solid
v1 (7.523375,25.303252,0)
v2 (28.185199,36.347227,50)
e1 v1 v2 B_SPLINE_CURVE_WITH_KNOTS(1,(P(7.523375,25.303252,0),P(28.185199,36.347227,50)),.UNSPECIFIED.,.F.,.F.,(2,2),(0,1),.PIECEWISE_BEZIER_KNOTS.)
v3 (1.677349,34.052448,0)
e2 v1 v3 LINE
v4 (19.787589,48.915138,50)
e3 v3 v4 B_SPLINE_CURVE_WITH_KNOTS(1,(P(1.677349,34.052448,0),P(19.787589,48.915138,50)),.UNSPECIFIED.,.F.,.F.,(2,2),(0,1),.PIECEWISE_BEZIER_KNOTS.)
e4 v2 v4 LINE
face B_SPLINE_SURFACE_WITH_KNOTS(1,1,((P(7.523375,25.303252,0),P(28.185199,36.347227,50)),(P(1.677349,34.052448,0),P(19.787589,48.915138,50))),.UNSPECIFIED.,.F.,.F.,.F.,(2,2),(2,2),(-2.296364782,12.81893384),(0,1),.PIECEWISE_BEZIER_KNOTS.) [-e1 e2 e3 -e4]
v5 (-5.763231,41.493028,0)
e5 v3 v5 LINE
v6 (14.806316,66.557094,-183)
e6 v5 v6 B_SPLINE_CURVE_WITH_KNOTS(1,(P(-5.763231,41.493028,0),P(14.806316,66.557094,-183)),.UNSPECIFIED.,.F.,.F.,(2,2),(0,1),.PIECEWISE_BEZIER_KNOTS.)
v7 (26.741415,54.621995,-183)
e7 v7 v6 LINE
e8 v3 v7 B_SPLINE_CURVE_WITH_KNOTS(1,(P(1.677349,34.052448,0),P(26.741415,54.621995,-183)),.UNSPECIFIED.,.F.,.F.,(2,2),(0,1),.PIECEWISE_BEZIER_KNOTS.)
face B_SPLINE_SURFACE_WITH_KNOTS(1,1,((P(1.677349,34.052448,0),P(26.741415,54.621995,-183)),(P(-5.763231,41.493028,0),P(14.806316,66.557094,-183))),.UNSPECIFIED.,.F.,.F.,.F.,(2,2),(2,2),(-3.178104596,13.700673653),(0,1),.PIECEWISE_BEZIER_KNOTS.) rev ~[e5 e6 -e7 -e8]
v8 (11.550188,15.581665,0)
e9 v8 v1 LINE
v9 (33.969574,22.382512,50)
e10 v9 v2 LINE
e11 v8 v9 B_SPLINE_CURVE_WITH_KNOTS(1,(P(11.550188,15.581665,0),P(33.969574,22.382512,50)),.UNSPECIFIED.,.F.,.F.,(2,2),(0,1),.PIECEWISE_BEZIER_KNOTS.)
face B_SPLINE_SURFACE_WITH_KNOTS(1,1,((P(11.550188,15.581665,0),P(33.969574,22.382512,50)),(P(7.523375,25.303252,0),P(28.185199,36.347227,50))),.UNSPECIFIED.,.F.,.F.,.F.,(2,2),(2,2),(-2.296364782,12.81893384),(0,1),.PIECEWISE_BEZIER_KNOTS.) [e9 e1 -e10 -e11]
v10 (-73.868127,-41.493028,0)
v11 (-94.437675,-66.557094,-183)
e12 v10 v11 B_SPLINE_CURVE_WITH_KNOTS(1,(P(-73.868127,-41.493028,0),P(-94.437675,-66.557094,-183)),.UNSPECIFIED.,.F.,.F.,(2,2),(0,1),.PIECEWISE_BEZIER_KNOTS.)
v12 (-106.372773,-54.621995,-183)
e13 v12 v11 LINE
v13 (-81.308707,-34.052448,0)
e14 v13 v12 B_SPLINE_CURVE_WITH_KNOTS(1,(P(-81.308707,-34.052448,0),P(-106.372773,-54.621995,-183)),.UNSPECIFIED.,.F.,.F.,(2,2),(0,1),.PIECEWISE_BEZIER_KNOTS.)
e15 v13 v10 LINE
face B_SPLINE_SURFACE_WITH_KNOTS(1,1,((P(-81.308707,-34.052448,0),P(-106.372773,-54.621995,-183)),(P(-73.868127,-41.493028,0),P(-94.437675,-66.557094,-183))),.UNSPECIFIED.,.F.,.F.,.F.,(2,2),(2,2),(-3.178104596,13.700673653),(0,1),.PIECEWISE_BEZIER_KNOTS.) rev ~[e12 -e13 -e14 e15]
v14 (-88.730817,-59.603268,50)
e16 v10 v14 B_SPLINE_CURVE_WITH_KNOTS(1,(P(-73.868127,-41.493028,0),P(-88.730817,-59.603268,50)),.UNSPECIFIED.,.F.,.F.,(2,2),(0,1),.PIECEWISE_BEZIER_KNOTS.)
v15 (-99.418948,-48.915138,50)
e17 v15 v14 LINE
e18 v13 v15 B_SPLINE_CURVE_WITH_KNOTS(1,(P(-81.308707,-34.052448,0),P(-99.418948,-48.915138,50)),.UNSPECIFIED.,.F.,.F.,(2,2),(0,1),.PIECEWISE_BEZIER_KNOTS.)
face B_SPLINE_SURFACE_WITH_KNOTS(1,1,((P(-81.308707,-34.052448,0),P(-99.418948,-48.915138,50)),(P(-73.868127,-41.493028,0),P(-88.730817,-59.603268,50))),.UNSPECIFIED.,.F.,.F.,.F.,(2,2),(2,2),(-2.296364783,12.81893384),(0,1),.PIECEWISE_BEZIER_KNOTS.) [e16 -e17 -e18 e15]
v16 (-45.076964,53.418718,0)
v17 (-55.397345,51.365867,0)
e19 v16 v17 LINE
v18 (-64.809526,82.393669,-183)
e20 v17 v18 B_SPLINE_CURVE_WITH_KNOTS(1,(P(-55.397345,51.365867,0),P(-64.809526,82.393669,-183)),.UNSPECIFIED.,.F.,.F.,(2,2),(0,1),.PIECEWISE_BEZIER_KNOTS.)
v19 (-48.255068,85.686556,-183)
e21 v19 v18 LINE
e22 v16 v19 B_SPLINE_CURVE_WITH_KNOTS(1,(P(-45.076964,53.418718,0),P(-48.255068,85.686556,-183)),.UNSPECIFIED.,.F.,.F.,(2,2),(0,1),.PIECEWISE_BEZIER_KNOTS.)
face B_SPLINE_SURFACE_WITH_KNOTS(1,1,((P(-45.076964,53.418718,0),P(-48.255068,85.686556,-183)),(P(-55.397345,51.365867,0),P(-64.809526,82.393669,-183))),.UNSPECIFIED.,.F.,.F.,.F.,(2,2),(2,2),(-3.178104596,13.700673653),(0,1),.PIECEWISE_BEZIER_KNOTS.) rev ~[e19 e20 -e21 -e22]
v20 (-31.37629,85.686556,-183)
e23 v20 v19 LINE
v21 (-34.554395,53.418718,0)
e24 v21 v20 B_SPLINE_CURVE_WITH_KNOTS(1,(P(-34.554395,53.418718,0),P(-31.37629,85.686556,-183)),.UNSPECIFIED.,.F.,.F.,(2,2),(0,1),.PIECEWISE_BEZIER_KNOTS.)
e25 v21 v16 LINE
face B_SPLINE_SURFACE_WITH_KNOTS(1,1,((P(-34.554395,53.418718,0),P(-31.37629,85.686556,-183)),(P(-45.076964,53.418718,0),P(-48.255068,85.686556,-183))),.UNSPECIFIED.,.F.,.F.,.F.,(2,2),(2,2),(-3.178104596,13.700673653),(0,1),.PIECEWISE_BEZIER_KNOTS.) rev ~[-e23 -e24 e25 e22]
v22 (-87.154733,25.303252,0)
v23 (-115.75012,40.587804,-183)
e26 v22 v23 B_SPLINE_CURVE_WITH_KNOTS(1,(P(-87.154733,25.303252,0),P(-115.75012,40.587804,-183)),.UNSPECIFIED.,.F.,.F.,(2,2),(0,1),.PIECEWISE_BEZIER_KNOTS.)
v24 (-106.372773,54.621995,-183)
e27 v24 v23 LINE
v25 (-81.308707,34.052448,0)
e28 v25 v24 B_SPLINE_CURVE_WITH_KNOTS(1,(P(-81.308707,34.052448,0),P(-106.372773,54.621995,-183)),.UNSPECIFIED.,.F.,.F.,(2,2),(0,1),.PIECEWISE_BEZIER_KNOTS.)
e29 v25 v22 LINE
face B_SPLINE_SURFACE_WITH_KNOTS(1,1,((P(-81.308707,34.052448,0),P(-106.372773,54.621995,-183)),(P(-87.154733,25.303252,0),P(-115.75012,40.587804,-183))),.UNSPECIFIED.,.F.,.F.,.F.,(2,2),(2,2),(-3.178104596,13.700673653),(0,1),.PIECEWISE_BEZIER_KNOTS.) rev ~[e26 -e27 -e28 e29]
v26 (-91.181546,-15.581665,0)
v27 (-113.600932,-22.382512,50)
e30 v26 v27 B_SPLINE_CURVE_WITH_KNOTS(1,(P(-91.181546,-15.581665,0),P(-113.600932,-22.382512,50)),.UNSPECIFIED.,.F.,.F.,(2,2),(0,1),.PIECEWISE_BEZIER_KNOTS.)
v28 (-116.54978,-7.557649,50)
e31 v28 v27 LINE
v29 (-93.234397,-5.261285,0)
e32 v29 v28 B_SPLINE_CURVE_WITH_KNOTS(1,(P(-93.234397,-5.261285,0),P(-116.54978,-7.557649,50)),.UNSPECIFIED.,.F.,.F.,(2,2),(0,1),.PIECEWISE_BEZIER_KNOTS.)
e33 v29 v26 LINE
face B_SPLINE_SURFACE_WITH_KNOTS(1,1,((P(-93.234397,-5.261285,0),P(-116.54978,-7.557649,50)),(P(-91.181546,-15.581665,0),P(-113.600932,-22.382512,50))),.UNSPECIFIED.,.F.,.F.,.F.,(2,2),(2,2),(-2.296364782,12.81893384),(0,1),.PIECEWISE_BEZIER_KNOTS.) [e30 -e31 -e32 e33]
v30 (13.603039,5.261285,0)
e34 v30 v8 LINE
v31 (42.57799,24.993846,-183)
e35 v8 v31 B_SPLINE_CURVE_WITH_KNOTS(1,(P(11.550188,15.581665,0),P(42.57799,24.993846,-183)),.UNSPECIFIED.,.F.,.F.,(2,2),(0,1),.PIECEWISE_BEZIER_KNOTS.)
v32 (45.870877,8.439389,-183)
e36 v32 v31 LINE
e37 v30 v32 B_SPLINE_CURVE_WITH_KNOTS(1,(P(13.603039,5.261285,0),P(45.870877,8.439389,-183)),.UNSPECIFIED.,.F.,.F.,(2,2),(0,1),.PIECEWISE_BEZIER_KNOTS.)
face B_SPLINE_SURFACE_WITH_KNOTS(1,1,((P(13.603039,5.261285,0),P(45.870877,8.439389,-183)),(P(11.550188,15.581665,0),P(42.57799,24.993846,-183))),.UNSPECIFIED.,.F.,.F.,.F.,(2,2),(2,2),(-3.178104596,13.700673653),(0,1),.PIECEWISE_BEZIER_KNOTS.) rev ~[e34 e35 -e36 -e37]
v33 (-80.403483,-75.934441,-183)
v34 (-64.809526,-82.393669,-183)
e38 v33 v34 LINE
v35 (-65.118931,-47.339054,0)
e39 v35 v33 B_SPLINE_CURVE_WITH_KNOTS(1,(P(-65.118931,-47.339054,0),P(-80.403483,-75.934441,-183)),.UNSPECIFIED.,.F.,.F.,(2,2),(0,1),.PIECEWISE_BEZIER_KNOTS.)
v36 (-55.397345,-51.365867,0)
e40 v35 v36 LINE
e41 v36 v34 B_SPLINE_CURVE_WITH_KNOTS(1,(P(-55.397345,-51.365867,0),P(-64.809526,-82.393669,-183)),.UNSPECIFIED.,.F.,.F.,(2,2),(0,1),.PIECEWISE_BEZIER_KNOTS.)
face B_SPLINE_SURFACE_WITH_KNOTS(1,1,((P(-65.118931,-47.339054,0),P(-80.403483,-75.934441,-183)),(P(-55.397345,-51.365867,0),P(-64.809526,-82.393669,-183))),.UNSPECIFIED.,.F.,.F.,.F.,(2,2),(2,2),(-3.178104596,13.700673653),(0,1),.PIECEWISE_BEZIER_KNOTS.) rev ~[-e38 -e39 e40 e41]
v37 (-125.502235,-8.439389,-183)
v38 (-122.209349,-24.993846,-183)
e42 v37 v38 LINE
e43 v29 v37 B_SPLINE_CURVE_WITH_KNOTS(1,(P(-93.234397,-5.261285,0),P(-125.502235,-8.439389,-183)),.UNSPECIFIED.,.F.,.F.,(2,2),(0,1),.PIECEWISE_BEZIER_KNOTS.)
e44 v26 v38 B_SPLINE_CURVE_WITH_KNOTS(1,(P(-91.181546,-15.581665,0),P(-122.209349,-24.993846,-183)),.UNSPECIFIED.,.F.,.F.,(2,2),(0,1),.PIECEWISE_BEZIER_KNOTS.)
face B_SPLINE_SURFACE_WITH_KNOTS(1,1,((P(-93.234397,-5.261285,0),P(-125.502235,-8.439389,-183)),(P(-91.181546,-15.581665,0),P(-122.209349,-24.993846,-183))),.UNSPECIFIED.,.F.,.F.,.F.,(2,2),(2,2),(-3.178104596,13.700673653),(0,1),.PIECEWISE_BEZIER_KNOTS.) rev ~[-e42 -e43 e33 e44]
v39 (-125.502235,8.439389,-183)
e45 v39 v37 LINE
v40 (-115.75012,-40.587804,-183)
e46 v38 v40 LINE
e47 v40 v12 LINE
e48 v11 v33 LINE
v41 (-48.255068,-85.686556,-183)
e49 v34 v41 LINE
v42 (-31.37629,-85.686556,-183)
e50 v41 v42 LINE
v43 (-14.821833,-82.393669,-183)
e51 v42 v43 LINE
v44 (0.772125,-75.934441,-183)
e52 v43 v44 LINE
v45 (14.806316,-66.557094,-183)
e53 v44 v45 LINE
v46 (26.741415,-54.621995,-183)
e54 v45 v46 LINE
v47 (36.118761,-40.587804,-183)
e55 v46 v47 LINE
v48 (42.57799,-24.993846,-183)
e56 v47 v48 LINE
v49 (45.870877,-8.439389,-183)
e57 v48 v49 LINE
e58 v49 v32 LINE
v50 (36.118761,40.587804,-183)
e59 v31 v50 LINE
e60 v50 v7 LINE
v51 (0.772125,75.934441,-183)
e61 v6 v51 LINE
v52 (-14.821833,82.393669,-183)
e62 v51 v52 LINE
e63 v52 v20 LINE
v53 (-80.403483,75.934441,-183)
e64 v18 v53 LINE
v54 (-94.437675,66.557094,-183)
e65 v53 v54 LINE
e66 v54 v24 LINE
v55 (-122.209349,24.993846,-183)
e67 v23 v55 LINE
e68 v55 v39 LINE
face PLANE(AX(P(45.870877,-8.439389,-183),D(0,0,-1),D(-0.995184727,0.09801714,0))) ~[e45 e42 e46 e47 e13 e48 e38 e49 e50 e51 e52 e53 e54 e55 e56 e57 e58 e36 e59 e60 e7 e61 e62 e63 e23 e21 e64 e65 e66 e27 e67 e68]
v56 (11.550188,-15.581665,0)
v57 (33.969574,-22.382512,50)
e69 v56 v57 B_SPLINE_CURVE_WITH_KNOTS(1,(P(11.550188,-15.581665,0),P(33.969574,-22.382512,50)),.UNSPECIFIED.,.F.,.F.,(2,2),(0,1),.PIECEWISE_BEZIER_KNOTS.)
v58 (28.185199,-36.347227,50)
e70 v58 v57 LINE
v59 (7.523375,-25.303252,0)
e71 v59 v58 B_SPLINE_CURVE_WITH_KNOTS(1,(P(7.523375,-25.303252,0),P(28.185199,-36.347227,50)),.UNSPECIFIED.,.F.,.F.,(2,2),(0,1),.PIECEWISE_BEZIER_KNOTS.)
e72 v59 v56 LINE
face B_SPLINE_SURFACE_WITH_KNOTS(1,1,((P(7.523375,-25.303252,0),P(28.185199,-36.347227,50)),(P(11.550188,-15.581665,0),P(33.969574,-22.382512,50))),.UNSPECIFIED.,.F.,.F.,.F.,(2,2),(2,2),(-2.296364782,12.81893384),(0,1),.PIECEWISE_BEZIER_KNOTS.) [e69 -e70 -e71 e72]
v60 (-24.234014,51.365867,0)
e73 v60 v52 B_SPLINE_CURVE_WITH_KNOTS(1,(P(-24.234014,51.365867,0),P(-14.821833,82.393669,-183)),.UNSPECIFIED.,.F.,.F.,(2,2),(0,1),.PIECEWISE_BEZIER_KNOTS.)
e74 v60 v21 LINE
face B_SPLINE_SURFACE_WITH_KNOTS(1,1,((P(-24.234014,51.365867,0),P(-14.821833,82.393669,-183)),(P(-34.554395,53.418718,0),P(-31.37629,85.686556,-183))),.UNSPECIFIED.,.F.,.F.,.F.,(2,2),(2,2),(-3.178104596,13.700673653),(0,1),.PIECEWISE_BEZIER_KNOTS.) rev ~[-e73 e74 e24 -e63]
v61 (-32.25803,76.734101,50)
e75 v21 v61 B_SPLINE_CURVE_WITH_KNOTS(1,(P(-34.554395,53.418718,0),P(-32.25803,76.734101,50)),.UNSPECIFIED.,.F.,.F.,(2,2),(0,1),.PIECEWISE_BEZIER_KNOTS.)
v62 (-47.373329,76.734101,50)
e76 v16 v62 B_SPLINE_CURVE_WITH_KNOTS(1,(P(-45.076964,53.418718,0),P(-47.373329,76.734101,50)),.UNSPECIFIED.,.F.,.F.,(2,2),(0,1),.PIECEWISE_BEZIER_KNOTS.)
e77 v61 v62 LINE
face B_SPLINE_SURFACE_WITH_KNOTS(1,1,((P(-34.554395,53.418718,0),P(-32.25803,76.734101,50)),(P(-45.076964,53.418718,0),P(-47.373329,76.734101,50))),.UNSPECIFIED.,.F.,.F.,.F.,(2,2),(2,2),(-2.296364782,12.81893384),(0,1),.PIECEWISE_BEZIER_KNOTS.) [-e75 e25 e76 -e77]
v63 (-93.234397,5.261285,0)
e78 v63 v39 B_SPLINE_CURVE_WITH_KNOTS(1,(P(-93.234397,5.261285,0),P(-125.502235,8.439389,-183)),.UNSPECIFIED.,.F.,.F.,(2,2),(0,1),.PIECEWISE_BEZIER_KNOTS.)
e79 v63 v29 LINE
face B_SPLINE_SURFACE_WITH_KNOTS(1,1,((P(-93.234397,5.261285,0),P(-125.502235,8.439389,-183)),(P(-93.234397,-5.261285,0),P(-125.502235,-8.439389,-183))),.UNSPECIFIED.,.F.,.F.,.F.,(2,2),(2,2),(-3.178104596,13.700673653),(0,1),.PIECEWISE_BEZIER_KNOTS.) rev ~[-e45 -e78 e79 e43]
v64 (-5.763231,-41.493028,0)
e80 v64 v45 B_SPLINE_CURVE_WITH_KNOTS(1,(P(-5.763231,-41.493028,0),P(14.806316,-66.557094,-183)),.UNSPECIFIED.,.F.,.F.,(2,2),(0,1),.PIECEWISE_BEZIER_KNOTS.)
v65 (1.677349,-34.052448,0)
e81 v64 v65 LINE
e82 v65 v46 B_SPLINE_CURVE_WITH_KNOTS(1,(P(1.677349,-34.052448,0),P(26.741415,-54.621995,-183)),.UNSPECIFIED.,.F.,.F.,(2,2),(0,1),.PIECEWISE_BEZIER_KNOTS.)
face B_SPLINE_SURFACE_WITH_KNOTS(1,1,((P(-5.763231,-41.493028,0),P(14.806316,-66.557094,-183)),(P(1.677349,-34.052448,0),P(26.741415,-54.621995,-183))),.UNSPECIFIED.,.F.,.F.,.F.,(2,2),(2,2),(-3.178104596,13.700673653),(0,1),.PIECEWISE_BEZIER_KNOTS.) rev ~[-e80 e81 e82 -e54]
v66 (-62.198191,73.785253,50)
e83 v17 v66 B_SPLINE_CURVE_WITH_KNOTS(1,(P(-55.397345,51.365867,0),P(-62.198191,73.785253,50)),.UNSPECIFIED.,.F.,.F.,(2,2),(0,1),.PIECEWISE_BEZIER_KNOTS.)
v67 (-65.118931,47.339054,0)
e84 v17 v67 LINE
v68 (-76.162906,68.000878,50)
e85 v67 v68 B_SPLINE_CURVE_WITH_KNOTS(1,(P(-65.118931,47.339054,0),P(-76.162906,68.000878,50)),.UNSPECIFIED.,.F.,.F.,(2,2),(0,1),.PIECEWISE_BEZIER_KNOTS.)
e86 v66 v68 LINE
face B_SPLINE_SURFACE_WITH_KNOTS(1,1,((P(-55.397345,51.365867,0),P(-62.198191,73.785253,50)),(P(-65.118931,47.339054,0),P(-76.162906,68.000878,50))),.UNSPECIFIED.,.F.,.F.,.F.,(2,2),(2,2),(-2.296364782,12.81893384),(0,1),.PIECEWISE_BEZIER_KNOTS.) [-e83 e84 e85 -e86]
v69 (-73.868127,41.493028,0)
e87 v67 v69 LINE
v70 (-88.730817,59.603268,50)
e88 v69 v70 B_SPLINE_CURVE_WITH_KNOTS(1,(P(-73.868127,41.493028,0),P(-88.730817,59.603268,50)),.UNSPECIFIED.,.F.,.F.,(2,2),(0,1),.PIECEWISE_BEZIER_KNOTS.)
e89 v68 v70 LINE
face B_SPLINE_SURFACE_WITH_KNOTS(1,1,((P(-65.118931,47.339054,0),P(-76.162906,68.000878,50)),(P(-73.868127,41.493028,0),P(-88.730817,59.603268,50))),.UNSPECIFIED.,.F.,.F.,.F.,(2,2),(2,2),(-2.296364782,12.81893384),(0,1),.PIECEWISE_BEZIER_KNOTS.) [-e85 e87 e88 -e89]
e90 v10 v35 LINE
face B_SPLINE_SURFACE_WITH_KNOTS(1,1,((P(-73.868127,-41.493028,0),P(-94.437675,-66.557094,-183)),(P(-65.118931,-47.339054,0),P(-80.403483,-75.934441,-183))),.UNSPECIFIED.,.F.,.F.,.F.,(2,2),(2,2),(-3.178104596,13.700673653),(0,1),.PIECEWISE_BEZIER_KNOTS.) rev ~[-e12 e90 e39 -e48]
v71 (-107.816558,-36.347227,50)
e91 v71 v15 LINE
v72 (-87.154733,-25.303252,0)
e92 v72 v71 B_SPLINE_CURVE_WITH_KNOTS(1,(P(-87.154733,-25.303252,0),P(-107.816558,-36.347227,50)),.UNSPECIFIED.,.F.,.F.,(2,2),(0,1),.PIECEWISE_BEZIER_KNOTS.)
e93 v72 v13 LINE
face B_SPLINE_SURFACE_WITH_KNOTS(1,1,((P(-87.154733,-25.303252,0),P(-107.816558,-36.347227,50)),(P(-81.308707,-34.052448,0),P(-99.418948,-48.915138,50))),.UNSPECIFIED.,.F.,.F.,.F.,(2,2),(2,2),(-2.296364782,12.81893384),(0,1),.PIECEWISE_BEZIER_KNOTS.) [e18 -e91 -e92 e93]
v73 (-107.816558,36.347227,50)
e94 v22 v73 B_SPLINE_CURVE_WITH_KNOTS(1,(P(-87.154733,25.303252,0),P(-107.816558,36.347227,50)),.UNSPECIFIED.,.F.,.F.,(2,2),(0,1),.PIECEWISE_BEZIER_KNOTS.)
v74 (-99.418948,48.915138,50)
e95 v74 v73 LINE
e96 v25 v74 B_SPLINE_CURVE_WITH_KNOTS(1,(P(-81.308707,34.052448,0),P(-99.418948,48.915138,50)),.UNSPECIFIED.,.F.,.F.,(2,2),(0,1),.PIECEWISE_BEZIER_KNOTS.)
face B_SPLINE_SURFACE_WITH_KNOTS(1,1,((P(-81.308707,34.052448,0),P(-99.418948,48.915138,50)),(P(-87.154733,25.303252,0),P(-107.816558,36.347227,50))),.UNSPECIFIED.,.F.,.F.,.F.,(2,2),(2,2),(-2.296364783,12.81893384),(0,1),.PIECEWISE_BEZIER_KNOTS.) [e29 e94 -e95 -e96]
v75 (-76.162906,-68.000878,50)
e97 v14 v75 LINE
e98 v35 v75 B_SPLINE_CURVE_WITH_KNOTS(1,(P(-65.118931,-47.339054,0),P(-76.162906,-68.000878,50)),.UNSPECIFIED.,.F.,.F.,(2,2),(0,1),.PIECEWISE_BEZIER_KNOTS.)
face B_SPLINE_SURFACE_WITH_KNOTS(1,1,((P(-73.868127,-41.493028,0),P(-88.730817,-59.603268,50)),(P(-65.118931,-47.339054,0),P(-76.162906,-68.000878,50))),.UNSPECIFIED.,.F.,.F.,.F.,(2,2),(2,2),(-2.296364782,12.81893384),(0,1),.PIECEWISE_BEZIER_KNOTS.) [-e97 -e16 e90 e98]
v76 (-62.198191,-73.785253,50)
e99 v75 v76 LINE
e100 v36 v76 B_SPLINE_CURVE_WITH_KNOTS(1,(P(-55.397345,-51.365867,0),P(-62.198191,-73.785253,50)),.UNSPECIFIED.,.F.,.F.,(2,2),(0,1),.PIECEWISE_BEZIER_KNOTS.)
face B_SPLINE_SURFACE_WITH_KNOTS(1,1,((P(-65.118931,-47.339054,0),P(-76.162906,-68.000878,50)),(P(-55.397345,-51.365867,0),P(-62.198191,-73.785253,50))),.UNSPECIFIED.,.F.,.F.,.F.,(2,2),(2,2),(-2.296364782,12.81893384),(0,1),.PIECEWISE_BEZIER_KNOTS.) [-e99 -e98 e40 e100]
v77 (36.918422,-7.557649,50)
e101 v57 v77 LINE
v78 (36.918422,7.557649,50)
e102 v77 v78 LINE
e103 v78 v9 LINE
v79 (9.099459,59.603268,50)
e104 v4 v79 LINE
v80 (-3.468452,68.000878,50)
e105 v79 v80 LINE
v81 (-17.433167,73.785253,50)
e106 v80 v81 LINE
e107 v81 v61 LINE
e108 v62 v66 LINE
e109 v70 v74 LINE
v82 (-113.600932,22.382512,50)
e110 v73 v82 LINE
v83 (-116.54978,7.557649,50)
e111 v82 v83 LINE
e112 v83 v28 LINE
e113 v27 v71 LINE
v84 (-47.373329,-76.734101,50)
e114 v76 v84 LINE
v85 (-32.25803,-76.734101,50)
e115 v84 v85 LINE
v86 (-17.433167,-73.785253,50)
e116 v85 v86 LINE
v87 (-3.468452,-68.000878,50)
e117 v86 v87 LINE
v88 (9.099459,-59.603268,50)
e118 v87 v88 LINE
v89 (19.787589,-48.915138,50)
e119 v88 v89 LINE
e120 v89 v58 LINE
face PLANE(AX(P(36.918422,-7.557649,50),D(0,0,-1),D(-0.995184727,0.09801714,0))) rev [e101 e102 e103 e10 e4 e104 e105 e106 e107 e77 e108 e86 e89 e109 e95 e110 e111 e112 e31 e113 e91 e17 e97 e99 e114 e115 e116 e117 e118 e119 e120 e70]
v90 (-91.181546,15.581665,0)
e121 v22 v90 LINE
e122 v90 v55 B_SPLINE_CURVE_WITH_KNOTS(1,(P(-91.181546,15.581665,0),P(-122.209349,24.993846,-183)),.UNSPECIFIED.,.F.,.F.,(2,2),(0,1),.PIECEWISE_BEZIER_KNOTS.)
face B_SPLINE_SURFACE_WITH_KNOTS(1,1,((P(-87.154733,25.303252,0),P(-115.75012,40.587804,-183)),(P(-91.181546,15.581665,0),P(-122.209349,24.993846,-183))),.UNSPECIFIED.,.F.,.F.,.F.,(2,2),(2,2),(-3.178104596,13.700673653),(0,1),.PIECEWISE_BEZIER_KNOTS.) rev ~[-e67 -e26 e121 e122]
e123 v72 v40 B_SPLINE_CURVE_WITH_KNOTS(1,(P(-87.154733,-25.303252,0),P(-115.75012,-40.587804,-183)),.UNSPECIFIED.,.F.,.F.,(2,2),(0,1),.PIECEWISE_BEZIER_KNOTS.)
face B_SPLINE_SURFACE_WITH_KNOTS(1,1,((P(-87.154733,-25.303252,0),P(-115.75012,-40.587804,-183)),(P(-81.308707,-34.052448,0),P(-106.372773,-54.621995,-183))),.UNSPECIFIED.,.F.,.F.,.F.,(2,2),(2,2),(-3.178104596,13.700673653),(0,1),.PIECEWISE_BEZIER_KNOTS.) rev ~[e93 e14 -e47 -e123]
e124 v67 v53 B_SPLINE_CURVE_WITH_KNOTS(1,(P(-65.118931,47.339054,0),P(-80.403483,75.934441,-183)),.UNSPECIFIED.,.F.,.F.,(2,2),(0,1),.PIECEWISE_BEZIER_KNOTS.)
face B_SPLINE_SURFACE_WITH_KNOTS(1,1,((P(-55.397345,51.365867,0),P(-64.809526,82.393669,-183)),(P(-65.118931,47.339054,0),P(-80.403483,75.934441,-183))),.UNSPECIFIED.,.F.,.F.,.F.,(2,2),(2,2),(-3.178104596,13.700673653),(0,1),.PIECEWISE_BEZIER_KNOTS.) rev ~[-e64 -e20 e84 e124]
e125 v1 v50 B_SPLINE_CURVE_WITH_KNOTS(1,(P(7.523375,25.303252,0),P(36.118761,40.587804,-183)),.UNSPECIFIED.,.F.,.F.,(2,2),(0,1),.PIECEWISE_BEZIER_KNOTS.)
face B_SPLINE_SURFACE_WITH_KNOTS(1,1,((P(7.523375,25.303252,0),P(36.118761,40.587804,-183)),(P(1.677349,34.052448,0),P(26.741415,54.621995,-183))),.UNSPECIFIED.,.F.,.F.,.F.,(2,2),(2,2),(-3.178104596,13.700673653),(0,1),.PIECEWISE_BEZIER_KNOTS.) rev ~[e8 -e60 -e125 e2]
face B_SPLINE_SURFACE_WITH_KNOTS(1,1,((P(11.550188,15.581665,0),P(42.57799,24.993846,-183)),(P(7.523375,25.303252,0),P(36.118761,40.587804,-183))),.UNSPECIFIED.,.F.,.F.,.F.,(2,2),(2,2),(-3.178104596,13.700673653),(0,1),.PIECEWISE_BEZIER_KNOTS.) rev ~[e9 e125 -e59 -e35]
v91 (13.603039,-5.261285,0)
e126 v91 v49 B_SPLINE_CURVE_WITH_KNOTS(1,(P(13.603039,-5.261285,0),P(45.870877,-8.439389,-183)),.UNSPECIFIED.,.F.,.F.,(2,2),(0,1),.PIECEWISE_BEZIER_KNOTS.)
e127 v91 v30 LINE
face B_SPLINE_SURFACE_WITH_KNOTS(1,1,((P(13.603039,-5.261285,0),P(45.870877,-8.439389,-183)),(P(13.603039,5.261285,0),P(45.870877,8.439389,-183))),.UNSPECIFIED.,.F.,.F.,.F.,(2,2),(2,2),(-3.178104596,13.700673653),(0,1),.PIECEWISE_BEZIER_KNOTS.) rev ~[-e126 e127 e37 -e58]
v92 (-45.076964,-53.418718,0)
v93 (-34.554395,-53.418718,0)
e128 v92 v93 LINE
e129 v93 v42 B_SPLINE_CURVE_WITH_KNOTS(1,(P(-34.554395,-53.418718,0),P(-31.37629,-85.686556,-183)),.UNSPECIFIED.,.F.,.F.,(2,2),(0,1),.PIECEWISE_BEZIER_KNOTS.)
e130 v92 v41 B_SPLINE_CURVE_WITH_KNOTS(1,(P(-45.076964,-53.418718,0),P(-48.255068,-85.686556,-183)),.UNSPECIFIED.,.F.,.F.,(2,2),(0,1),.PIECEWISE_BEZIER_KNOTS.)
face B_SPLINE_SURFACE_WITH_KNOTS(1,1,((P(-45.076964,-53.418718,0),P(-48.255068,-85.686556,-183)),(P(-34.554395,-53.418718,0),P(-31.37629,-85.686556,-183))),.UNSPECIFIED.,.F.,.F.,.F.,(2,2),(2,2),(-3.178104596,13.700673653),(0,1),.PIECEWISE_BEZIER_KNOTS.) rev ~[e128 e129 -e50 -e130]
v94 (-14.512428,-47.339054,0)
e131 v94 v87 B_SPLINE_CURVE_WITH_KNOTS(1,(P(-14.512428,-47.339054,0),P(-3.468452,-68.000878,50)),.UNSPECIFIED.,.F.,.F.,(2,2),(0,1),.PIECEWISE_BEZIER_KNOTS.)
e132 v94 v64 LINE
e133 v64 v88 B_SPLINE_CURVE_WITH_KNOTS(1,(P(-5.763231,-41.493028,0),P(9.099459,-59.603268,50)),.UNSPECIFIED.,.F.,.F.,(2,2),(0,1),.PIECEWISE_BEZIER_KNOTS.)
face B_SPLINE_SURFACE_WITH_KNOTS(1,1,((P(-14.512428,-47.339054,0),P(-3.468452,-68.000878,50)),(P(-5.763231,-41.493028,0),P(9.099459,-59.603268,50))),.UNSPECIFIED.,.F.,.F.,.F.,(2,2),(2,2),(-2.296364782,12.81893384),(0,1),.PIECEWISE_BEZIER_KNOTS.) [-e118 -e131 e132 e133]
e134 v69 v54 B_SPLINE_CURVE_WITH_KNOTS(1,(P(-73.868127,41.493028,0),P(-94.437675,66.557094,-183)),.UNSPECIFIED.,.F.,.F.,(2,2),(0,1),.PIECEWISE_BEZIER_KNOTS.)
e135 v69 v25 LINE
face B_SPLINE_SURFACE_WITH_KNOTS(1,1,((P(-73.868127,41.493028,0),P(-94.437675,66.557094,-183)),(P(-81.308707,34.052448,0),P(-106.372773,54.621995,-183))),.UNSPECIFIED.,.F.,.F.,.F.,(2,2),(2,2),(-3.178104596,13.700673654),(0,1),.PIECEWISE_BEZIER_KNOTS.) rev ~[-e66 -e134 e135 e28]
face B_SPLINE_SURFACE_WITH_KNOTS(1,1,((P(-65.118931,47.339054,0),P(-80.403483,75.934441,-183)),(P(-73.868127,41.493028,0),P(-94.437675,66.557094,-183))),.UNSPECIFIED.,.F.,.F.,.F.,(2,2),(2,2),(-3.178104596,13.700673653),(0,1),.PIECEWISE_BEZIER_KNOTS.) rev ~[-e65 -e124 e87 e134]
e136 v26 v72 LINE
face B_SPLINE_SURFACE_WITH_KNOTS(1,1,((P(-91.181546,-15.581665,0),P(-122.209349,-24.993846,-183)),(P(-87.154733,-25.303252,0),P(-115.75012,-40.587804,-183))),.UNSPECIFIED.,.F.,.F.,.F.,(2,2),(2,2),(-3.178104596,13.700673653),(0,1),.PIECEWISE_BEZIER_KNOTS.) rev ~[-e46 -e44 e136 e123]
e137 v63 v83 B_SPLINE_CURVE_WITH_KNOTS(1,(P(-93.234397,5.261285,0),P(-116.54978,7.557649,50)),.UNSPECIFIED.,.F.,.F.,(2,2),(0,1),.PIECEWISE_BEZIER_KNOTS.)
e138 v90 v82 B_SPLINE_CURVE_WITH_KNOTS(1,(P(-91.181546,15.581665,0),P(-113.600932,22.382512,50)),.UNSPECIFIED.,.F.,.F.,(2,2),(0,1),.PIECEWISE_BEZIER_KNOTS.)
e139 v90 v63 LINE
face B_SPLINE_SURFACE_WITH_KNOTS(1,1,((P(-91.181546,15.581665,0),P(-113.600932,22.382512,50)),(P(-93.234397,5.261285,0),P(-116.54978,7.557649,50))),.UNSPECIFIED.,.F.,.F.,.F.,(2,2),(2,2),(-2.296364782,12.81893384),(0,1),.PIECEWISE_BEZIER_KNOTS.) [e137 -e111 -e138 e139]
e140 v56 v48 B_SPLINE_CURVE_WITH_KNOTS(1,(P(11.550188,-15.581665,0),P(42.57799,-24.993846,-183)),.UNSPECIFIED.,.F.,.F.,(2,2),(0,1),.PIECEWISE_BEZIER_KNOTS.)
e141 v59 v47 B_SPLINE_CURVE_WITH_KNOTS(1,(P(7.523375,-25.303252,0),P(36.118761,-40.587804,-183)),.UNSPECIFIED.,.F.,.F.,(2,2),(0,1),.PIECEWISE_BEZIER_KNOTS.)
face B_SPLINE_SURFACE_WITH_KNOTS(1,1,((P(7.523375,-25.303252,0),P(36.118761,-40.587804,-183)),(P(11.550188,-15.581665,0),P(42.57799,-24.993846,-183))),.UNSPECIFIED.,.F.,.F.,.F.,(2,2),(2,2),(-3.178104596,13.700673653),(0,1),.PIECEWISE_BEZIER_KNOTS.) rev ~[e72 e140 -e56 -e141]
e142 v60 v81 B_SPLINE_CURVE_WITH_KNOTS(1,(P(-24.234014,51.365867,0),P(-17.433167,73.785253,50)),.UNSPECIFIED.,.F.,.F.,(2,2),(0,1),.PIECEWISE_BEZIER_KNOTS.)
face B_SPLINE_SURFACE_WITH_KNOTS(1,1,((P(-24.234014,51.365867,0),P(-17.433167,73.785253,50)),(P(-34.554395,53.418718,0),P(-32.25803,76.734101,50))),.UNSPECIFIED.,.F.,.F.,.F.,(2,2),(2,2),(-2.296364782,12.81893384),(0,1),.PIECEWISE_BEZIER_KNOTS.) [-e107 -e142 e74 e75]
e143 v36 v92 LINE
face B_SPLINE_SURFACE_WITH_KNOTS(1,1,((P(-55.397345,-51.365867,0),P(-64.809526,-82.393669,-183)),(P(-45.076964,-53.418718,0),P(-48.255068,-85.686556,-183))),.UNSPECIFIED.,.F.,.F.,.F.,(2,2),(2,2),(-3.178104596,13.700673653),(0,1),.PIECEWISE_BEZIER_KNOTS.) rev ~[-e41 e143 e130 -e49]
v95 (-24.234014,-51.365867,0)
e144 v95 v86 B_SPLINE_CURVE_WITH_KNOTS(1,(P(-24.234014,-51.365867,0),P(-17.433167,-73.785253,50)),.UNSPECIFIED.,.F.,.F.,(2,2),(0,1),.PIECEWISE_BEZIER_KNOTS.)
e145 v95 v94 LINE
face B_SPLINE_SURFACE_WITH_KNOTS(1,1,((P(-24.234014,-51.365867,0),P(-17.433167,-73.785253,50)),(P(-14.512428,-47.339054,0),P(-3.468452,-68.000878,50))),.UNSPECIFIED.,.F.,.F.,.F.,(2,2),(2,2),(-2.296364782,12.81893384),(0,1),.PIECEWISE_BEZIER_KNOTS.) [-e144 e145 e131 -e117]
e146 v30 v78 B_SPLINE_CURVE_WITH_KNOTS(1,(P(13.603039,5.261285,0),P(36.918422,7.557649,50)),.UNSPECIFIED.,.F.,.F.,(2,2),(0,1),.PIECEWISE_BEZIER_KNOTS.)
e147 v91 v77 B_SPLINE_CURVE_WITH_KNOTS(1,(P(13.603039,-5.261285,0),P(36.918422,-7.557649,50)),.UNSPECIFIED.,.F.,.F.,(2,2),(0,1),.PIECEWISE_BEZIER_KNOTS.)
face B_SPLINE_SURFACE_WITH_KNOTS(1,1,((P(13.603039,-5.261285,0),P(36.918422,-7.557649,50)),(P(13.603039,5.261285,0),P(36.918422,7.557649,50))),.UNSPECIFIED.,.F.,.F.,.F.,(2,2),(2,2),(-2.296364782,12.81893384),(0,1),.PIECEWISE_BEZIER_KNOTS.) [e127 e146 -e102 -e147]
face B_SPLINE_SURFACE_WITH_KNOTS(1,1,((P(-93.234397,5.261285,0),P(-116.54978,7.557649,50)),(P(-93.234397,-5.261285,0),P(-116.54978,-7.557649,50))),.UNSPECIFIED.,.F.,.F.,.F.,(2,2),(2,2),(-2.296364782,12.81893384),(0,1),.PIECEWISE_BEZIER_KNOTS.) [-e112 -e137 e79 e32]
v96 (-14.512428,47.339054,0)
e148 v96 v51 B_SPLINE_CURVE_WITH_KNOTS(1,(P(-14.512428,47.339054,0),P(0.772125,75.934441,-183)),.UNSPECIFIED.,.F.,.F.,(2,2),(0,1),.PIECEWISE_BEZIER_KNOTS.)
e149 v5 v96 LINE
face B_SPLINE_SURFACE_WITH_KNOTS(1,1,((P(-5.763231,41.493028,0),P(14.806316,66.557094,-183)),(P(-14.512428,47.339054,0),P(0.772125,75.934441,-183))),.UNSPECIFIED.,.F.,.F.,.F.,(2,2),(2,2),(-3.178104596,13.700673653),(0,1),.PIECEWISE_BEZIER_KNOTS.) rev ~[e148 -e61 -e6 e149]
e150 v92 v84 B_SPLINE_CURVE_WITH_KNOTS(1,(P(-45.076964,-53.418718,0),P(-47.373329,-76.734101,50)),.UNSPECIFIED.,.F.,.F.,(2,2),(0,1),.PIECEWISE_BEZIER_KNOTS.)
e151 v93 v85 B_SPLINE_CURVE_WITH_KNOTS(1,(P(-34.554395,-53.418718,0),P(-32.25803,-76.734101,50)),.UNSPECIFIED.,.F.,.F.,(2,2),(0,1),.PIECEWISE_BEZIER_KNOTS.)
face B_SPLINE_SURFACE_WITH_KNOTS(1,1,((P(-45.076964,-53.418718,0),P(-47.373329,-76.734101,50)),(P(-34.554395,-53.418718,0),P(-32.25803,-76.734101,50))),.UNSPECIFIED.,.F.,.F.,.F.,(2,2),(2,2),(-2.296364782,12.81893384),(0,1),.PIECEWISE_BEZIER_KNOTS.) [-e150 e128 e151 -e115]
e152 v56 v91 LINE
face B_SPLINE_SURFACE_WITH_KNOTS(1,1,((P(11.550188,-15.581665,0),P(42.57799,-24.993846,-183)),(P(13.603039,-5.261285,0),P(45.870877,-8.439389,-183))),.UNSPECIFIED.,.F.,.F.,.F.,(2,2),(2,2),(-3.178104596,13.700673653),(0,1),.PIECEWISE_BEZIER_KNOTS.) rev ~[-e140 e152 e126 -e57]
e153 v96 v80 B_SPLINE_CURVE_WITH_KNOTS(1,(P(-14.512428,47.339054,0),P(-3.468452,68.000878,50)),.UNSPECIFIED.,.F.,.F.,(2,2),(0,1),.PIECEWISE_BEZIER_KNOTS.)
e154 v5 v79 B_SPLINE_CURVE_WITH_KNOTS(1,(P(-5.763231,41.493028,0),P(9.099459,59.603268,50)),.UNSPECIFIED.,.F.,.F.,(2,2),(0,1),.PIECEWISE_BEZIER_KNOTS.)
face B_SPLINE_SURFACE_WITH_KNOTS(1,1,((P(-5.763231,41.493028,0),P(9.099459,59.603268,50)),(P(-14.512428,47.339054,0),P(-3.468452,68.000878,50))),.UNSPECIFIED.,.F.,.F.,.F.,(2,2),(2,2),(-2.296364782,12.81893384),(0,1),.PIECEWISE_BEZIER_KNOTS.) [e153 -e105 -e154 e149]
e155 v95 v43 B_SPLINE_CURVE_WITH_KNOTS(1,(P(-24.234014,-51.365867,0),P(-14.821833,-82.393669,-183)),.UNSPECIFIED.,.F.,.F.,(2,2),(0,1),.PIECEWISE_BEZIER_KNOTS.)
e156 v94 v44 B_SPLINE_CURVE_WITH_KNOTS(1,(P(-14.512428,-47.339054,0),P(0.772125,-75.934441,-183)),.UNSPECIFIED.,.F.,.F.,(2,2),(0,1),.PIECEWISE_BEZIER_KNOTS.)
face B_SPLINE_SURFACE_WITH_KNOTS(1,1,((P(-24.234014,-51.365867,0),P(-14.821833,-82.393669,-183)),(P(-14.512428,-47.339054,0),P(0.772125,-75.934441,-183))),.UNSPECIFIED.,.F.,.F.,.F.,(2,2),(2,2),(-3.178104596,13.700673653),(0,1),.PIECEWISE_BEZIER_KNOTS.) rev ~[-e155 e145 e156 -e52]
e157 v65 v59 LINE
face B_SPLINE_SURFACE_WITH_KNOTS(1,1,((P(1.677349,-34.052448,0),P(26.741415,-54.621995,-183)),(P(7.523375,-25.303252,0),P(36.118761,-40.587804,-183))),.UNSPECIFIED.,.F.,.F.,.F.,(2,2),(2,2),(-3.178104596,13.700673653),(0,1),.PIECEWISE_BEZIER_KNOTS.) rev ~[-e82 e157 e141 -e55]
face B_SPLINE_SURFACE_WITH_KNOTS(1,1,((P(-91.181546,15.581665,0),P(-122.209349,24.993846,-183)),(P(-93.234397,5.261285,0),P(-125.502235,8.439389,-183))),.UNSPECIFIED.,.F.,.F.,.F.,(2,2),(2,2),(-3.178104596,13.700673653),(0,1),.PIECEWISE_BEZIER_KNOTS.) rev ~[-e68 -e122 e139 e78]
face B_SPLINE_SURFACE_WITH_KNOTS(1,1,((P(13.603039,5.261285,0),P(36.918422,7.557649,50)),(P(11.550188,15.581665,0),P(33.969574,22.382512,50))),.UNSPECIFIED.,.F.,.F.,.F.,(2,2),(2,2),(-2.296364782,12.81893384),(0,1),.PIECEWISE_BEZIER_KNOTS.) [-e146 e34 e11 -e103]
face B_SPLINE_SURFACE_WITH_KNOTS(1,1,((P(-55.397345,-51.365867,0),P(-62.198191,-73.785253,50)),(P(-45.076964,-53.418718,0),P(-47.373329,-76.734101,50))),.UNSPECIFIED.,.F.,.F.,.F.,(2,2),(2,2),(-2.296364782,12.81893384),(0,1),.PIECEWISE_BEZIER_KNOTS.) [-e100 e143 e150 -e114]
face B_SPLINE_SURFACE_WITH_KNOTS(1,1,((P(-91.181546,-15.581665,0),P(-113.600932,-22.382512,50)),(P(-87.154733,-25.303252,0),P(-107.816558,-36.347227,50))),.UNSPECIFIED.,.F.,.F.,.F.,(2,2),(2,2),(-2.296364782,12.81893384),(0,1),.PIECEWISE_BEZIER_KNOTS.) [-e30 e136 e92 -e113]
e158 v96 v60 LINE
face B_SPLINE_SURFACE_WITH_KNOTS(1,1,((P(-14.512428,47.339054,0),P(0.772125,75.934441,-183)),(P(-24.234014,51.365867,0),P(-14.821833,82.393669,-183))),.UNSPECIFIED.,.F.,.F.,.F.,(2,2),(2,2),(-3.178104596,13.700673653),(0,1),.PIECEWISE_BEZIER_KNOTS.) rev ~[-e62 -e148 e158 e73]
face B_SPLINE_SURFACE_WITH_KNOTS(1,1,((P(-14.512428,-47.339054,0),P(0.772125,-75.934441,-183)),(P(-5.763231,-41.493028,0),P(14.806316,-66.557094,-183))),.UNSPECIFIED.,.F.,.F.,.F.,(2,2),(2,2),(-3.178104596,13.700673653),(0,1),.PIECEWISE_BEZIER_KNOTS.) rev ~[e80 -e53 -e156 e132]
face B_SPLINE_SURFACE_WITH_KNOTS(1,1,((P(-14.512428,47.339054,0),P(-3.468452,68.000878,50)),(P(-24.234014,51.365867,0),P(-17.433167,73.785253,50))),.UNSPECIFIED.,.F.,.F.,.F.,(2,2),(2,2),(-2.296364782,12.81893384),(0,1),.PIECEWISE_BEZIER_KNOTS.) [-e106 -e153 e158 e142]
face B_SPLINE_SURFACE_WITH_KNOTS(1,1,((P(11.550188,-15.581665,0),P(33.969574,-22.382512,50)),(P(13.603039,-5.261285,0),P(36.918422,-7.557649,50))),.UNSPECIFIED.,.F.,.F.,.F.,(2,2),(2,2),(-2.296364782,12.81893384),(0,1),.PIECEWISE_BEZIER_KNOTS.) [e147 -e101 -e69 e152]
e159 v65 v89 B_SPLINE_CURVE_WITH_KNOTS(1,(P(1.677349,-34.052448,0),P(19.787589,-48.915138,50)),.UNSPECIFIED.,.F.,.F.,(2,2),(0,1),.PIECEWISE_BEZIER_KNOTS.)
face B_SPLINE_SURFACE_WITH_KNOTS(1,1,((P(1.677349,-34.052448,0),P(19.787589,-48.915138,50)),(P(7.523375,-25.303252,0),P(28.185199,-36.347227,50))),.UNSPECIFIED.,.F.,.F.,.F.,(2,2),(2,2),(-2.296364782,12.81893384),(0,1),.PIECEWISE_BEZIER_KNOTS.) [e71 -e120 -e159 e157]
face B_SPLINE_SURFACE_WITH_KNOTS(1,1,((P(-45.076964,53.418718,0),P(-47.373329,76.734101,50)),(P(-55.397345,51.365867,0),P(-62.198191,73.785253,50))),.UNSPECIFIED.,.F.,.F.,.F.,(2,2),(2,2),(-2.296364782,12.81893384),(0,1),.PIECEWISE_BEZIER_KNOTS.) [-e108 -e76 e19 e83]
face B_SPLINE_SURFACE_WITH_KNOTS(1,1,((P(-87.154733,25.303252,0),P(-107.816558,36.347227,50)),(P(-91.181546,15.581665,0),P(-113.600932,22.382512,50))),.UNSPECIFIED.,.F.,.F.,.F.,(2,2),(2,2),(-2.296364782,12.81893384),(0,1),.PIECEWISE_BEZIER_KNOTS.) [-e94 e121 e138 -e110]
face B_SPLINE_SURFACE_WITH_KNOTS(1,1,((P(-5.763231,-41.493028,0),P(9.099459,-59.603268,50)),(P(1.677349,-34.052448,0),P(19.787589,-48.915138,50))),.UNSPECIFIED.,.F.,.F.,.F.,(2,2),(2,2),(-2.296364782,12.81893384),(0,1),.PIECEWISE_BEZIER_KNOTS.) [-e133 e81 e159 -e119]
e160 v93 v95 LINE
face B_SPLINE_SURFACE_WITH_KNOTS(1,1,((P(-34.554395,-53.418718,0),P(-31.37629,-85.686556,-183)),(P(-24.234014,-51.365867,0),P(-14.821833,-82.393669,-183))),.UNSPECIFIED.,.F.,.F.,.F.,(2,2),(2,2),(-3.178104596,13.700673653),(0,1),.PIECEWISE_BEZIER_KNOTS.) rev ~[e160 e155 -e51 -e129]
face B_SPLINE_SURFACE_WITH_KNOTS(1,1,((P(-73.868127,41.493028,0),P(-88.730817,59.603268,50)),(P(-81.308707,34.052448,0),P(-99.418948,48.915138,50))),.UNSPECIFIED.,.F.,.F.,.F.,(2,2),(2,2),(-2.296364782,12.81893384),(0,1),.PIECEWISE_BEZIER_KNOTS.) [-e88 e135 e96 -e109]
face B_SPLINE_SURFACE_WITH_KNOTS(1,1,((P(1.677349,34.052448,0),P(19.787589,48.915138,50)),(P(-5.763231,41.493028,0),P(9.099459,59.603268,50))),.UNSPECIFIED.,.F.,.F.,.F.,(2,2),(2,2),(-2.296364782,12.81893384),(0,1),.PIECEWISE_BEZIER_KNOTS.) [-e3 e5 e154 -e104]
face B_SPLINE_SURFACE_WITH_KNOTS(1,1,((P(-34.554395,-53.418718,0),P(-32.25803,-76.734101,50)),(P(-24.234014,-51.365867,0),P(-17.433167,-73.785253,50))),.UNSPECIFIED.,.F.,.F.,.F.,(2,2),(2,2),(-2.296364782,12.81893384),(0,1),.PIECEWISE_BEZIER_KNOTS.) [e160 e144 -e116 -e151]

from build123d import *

# Parameters (mm, degrees)
F1_DEPTH      = 50
F1_TAPER      = -25
F1_DEPTH_BACK = 183
F1_TAPER_BACK = -10


with BuildPart() as f1:
    # F0 (on Top) → F1 (new body, two sides)
    with BuildSketch(Plane.XY) as f1_sk:
        Polygon((13.6030390859, -5.2612845288), (13.6030390859, 5.2612845288), (11.5501877, 15.5816653725), (7.5233748557, 25.3032515542), (1.6773487125, 34.0524479689), (-5.7632312236, 41.493027905), (-14.5124276384, 47.3390540483), (-24.2340138201, 51.3658668925), (-34.5543946638, 53.4187182784), (-45.0769637213, 53.4187182784), (-55.397344565, 51.3658668925), (-65.1189307467, 47.3390540483), (-73.8681271614, 41.493027905), (-81.3087070976, 34.0524479689), (-87.1547332408, 25.3032515542), (-91.1815460851, 15.5816653725), (-93.234397471, 5.2612845288), (-93.234397471, -5.2612845288), (-91.1815460851, -15.5816653725), (-87.1547332408, -25.3032515542), (-81.3087070976, -34.0524479689), (-73.8681271614, -41.493027905), (-65.1189307467, -47.3390540483), (-55.397344565, -51.3658668925), (-45.0769637213, -53.4187182784), (-34.5543946638, -53.4187182784), (-24.2340138201, -51.3658668925), (-14.5124276384, -47.3390540483), (-5.7632312236, -41.493027905), (1.6773487125, -34.0524479689), (7.5233748557, -25.3032515542), (11.5501877, -15.5816653725), align=None)
    extrude(amount=F1_DEPTH, taper=F1_TAPER)
    extrude(f1_sk.sketch, amount=-F1_DEPTH_BACK, taper=F1_TAPER_BACK)


solid = f1.part
